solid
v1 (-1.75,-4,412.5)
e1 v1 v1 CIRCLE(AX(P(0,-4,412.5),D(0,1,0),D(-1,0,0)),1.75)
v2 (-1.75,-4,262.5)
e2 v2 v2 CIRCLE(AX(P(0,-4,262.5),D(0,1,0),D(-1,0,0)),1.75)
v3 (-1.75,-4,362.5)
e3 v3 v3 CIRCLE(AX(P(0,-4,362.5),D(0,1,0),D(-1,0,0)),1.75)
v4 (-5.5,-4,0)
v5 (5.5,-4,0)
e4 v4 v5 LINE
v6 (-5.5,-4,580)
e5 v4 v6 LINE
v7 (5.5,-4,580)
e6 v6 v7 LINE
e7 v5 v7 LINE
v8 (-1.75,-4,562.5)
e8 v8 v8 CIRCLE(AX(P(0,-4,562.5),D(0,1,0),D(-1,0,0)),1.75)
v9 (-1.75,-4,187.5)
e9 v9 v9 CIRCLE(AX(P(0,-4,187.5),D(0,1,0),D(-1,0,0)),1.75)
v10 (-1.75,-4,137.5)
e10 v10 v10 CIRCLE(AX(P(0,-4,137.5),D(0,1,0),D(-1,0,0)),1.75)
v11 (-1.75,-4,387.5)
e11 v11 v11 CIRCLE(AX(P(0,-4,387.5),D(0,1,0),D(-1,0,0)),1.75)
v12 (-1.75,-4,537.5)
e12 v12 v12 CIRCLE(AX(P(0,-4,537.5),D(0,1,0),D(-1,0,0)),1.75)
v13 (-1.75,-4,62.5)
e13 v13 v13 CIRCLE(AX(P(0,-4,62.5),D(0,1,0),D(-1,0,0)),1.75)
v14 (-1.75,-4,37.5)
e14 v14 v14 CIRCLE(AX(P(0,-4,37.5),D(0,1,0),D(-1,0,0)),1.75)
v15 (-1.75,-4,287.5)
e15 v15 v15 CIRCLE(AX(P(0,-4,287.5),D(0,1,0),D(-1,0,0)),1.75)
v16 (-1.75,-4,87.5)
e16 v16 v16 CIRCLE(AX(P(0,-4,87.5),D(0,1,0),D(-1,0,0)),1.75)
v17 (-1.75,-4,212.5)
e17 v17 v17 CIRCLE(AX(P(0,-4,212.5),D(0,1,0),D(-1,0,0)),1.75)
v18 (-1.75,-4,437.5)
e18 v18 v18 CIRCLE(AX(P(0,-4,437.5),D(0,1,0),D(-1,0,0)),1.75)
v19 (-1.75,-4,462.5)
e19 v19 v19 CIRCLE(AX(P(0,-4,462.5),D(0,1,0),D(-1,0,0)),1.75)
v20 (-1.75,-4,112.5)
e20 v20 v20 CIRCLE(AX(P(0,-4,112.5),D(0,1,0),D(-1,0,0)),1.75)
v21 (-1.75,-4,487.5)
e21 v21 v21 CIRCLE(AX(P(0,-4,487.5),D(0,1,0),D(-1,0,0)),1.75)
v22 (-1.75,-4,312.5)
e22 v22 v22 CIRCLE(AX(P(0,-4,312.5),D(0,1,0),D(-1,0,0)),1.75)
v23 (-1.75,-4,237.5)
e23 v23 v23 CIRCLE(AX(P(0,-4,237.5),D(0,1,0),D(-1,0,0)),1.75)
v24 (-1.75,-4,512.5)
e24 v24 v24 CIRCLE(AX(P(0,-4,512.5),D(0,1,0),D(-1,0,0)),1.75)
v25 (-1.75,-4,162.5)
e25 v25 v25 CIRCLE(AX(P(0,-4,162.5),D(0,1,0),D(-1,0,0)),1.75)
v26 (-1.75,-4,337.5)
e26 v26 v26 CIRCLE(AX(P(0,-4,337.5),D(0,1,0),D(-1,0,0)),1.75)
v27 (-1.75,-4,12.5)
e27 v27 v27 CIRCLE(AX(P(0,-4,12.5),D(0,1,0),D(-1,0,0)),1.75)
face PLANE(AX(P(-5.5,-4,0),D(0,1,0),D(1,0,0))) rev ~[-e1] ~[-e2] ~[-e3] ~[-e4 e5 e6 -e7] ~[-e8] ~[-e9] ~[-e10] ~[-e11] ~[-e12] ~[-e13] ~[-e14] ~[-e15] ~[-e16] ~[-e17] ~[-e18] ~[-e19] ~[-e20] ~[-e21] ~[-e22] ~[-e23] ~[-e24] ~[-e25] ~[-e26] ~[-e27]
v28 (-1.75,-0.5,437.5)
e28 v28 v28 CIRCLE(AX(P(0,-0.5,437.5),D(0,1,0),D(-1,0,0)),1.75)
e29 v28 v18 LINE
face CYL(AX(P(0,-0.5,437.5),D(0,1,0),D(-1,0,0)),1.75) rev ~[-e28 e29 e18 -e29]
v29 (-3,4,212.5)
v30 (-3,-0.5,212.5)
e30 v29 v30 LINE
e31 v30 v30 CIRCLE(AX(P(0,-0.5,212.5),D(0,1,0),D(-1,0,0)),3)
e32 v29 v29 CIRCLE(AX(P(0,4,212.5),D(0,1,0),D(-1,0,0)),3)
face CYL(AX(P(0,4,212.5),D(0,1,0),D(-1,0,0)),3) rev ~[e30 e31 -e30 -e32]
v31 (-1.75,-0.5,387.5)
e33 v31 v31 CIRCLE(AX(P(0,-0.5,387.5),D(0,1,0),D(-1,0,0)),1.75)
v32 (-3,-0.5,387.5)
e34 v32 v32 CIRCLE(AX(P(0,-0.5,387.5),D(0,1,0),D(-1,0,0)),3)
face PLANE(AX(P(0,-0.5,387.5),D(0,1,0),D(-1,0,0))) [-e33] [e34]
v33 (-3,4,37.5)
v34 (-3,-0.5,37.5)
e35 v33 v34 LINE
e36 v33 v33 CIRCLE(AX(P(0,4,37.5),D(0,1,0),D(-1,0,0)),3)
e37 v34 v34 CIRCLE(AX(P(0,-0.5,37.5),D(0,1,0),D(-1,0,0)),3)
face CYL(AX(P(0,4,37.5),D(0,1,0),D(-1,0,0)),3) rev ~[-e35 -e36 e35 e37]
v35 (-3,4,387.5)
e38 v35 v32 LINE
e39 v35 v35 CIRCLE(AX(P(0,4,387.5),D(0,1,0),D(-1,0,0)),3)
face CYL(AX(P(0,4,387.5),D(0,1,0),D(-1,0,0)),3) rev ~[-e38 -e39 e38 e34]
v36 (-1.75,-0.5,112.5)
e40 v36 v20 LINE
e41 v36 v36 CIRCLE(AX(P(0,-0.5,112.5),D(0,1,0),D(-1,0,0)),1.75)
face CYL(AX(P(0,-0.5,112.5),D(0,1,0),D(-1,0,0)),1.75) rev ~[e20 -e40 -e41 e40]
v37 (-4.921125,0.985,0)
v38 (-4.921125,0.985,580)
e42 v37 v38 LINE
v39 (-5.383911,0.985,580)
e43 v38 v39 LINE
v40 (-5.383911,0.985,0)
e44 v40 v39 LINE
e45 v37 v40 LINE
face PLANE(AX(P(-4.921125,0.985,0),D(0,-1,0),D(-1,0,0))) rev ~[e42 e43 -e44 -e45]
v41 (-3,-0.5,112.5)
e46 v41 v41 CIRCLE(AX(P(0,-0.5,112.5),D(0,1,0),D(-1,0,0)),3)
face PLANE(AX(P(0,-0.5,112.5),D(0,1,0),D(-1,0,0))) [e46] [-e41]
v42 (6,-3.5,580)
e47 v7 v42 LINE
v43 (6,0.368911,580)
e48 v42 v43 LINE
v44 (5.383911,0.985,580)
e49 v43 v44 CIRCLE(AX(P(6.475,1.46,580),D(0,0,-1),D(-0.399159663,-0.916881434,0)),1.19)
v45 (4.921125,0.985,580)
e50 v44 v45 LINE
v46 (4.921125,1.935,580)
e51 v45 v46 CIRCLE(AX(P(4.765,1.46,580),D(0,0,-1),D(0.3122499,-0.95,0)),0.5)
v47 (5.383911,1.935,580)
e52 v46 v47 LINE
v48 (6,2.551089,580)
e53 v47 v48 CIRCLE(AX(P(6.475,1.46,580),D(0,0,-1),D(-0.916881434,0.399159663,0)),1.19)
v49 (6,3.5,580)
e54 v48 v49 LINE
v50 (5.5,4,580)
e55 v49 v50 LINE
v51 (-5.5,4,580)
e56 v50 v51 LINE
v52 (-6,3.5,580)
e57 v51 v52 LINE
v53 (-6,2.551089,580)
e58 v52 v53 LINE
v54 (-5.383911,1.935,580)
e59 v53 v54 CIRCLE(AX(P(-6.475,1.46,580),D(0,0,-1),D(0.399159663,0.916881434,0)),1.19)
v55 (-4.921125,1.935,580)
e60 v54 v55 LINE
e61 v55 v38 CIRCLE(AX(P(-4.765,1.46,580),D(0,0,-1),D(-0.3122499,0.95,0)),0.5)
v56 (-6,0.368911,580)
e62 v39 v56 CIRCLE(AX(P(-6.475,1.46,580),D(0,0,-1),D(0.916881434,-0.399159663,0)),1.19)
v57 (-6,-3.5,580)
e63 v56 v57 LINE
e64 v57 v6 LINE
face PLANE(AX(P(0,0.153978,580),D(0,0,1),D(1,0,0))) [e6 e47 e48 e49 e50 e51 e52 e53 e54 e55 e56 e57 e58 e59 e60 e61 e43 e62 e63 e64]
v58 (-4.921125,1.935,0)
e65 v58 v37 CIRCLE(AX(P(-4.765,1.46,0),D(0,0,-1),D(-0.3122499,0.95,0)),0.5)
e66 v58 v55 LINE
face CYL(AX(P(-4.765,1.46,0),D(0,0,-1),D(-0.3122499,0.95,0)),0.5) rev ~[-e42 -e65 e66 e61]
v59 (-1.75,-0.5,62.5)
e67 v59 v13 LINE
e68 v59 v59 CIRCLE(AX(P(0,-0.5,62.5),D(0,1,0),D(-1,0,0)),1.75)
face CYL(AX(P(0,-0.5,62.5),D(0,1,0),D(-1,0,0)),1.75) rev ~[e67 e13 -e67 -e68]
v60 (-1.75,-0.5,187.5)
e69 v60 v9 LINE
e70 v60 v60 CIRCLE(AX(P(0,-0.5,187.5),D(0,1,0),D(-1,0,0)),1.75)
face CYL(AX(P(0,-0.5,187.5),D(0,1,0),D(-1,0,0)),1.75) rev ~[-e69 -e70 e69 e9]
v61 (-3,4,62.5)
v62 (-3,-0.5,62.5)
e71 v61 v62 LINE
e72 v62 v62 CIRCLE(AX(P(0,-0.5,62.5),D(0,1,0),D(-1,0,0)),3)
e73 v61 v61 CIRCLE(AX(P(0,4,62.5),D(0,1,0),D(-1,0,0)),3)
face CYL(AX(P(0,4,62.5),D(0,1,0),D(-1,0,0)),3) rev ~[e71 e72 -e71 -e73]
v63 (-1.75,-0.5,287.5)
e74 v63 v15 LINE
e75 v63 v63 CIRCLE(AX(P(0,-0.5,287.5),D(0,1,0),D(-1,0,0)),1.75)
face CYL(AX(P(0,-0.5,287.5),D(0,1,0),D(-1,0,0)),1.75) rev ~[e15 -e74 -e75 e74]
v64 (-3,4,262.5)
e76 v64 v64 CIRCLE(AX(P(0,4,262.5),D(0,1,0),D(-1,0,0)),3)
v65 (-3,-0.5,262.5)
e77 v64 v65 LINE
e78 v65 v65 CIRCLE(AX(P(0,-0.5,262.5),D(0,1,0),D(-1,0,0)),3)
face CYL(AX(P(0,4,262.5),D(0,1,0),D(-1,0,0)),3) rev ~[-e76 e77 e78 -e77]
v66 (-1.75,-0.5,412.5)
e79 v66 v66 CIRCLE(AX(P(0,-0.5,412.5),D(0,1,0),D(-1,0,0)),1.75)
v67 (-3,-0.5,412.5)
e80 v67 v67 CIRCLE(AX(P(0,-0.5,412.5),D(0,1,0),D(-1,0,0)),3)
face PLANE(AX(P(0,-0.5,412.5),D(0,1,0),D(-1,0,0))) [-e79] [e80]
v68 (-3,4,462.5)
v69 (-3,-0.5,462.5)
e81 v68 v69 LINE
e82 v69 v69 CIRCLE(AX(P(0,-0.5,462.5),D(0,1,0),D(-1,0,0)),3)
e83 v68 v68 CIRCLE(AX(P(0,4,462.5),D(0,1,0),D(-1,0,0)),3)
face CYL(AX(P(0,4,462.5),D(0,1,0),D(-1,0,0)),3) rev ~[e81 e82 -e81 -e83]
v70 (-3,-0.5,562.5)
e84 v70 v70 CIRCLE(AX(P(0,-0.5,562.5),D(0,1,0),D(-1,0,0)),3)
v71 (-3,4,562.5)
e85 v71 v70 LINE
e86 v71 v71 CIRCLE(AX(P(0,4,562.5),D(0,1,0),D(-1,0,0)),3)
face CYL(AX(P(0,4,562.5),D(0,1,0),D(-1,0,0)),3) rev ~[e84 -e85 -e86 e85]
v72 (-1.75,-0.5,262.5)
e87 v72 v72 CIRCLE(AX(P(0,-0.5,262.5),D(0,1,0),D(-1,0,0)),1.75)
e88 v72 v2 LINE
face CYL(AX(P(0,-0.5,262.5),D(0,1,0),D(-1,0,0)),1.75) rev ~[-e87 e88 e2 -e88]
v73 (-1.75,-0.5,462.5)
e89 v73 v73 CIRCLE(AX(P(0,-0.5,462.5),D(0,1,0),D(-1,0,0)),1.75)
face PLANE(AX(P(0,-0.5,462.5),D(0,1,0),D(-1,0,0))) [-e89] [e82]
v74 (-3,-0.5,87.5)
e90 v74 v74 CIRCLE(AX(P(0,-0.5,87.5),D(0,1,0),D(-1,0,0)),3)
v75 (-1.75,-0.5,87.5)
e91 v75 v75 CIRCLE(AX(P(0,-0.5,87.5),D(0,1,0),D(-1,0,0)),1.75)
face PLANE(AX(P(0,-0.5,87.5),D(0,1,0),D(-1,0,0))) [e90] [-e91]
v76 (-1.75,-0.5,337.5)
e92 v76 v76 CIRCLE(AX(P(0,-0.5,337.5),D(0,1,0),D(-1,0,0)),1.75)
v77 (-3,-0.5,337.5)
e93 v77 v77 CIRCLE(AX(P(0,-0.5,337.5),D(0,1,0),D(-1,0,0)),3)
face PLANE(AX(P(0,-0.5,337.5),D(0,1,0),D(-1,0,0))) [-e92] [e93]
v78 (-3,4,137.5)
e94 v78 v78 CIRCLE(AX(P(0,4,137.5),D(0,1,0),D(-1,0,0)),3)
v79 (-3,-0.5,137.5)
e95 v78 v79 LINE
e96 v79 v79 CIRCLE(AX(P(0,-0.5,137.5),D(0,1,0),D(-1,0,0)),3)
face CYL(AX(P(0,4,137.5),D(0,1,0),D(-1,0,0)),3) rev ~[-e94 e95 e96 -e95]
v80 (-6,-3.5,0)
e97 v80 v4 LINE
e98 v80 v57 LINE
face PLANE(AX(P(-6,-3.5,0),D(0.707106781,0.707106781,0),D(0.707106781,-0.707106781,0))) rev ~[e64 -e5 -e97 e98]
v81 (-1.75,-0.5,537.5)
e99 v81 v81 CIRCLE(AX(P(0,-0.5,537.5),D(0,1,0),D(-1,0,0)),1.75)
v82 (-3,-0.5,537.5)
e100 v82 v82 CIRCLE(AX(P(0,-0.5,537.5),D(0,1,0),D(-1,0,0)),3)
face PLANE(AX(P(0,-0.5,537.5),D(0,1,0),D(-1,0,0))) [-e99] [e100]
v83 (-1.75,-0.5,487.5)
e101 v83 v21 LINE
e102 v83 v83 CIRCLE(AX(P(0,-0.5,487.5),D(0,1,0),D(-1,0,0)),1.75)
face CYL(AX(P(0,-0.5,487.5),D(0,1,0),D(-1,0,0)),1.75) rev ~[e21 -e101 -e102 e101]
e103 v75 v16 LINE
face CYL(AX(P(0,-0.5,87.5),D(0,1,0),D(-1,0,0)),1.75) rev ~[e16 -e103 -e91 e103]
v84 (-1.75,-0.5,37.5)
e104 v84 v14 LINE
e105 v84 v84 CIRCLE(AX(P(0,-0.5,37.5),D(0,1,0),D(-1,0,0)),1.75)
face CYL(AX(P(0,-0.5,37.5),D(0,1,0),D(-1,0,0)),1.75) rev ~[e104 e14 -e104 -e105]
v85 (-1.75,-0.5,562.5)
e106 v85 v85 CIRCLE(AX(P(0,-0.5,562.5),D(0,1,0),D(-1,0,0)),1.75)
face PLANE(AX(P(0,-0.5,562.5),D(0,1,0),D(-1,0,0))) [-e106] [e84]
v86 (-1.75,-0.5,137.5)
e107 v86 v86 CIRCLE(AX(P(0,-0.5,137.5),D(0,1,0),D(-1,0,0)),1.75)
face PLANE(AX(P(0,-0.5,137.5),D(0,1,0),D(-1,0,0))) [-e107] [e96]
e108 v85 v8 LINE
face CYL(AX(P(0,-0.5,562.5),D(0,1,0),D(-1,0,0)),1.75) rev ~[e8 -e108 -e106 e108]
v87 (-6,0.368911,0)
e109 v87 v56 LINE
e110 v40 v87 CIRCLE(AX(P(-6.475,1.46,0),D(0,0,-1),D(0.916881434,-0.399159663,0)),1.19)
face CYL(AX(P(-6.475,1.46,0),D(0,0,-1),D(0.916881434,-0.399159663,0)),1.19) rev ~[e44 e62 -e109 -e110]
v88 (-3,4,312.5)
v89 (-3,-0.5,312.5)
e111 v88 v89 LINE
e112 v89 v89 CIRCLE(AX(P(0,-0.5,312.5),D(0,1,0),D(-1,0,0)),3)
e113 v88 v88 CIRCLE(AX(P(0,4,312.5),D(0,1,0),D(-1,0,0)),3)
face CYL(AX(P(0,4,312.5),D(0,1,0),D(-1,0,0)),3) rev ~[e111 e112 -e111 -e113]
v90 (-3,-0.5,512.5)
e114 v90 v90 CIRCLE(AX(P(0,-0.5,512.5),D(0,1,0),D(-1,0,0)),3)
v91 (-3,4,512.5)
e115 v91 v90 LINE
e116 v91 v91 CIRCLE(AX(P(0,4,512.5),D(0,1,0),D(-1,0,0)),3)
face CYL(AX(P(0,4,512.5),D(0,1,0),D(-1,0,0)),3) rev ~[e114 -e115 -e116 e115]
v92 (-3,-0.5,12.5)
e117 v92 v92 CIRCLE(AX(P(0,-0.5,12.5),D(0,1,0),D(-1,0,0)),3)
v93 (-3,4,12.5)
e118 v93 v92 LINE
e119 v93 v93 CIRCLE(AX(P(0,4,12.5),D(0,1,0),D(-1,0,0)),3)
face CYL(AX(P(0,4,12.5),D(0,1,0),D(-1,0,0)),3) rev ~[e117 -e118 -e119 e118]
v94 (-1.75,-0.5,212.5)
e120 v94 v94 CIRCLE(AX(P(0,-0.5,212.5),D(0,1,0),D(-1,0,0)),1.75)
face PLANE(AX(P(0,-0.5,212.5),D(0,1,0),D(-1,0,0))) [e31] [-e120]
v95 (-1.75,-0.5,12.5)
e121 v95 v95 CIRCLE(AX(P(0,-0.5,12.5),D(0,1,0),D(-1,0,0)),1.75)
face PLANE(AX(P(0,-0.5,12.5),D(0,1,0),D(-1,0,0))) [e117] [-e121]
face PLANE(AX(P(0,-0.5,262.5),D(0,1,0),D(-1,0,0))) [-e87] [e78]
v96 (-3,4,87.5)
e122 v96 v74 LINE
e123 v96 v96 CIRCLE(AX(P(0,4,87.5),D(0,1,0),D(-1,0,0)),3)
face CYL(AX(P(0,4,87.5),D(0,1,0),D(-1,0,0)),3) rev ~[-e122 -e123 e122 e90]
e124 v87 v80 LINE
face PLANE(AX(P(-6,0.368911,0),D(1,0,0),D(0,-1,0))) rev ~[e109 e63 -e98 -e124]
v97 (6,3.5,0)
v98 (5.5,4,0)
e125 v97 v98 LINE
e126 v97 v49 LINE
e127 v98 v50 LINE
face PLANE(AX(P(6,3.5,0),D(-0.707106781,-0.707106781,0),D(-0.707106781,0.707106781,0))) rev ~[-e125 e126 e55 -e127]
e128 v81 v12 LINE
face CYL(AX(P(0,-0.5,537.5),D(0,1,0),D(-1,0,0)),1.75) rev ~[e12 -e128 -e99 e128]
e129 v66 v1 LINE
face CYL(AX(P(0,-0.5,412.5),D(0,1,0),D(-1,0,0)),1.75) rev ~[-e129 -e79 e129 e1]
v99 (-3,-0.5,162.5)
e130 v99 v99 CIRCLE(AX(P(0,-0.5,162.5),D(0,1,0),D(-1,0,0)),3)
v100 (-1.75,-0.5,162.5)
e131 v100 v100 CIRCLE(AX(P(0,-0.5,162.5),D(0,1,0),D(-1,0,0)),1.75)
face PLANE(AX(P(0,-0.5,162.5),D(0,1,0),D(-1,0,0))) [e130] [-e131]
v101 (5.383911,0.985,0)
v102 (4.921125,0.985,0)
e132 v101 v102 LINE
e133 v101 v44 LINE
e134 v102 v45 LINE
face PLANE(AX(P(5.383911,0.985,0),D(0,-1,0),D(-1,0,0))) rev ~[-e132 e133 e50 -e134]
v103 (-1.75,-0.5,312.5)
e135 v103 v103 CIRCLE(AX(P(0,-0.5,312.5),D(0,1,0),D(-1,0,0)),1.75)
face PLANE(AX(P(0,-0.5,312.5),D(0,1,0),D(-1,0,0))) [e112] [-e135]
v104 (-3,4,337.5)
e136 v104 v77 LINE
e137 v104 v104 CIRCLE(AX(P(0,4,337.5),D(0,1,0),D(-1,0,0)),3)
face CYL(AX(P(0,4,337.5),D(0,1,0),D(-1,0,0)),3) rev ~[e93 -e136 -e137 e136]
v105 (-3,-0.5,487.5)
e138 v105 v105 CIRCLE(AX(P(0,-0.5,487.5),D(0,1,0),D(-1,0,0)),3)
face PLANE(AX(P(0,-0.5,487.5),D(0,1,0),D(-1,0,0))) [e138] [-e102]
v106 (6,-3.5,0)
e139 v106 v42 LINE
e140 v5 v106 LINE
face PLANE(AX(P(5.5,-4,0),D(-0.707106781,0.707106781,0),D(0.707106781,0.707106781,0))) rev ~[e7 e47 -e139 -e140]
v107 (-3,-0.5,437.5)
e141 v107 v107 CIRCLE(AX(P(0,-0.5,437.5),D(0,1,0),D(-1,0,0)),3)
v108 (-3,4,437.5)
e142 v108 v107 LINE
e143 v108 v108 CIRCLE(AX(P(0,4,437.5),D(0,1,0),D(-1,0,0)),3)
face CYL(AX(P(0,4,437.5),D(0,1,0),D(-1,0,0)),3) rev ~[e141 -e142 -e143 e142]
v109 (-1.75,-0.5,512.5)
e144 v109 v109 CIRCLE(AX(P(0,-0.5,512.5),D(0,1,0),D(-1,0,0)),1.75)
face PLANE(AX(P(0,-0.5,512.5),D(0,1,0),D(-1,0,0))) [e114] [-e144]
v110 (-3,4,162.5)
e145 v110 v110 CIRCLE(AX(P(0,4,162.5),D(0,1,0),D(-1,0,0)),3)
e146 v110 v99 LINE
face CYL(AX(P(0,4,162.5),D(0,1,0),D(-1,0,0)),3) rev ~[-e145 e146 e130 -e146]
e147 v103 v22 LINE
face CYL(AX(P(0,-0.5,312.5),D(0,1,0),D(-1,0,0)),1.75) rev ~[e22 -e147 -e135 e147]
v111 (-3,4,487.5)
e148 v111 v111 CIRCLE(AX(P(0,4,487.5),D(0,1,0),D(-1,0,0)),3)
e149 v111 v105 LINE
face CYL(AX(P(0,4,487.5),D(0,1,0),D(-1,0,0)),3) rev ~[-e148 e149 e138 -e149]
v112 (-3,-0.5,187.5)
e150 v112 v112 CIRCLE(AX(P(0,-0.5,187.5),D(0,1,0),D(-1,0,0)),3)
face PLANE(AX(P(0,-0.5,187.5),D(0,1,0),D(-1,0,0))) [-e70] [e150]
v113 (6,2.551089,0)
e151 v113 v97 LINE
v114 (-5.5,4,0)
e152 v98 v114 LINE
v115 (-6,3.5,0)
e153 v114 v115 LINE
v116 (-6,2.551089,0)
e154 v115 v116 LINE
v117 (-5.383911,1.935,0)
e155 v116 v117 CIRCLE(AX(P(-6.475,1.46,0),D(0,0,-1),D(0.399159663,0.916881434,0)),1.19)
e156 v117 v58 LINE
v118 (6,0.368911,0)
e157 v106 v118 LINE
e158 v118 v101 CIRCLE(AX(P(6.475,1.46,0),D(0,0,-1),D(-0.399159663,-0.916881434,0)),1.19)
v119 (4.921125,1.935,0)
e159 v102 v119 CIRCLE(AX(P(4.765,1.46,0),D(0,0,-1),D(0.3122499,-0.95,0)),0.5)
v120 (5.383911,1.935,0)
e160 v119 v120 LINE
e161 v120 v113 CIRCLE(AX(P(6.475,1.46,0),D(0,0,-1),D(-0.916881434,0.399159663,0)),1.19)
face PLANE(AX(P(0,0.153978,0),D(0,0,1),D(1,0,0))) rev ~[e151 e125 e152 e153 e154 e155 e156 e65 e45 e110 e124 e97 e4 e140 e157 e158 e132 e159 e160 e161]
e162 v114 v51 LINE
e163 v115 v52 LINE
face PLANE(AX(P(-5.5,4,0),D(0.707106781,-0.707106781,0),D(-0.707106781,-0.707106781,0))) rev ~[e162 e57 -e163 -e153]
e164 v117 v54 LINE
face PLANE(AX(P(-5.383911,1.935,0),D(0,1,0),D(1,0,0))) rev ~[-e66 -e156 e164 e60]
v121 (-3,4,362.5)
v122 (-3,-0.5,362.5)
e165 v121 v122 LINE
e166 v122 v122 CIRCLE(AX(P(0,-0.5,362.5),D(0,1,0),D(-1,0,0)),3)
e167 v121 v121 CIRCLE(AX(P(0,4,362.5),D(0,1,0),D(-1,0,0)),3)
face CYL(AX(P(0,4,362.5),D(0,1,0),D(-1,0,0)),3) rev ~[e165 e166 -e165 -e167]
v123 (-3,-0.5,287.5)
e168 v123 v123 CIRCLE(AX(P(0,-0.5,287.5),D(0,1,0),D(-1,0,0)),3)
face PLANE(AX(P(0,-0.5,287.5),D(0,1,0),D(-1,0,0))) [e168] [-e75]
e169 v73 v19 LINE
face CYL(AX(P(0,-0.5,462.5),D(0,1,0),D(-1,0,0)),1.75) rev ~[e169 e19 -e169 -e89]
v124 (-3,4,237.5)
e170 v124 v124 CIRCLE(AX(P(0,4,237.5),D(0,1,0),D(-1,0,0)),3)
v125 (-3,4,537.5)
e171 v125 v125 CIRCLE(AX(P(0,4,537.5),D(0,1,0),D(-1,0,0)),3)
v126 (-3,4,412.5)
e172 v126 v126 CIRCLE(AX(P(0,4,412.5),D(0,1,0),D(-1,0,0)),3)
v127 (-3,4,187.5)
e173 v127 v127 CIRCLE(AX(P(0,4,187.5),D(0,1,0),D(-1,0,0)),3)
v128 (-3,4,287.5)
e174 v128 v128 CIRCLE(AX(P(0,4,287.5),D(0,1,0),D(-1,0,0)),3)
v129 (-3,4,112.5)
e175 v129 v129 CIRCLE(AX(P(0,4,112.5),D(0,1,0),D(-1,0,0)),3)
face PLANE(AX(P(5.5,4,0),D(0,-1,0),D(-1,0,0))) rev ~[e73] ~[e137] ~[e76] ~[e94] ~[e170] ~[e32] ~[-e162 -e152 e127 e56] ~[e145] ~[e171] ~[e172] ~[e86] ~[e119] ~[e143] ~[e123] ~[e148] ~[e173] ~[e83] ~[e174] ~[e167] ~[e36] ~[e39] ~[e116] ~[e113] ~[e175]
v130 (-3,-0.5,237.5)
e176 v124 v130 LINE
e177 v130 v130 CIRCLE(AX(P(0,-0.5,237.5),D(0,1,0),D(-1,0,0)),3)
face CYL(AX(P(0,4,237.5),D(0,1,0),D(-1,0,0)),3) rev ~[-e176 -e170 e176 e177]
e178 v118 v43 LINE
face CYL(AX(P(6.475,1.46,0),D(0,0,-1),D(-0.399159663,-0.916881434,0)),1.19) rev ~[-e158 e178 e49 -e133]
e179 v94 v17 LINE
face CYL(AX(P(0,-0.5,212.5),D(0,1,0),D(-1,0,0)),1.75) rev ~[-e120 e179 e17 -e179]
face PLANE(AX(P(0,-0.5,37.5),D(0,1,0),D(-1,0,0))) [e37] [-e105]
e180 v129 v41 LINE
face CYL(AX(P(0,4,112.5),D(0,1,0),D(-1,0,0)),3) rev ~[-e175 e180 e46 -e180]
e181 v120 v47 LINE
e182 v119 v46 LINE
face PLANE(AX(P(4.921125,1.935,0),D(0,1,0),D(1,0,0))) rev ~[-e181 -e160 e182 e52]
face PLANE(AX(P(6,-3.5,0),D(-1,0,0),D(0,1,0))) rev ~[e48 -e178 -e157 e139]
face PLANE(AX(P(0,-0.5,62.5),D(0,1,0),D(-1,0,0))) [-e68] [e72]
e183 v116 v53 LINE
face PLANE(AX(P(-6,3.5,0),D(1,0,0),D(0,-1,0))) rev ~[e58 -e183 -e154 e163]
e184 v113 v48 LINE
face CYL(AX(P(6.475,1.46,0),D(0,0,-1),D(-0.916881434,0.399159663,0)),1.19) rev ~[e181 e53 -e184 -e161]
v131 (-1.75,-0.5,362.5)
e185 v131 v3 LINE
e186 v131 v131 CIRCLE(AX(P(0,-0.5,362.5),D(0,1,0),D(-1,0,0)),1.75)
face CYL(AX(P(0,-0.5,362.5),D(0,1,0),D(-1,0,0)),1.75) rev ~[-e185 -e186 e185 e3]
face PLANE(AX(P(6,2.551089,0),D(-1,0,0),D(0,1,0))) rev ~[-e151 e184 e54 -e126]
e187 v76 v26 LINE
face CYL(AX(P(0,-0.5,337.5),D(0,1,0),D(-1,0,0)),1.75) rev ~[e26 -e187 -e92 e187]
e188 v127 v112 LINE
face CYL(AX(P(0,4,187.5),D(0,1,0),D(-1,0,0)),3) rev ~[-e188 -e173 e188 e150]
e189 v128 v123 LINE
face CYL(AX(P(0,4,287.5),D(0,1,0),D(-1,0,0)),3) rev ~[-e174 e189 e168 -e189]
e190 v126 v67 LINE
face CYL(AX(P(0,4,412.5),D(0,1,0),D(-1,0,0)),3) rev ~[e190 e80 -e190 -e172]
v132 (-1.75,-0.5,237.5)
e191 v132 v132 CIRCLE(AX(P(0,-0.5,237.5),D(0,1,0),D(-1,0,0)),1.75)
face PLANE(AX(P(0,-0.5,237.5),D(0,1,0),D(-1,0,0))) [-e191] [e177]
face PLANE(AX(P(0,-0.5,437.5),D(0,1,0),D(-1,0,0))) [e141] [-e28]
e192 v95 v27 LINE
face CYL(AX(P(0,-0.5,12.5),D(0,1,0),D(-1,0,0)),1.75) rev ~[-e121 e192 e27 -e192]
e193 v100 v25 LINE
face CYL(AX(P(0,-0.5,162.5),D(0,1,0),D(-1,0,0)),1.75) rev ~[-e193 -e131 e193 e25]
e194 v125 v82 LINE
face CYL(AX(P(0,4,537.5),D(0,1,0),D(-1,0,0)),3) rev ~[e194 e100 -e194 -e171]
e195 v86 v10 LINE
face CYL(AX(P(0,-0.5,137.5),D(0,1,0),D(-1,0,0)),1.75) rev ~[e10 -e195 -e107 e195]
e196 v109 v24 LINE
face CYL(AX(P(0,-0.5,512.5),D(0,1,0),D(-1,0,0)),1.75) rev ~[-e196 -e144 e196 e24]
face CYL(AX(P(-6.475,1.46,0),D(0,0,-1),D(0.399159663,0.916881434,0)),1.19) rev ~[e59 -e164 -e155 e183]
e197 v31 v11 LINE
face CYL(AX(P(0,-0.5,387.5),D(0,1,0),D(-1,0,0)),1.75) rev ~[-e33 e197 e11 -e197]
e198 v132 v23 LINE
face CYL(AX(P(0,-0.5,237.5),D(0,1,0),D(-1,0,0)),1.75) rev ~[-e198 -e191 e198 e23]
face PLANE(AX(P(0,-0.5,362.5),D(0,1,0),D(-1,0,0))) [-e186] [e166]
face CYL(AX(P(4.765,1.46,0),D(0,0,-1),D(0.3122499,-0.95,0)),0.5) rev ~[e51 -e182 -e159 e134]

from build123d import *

# Parameters (mm, degrees)
BOSS_EXTRUDE1_DEPTH = 580
SKETCH2_R           = 3
CUT_EXTRUDE1_DEPTH  = 4.5
SKETCH3_R           = 1.75
CUT_EXTRUDE2_DEPTH  = 581.048489352
LPATTERN1_COUNT     = 23
LPATTERN1_PITCH     = 25


with BuildPart() as part:
    # Sketch1 → Boss-Extrude1 (new body)
    with BuildSketch(Plane.XY):
        with BuildLine():
            Line((6, -3.5), (6, 0.368911094))
            ThreePointArc((6, 0.368911094), (5.63354293, 0.61854293), (5.383911094, 0.985))
            Line((5.383911094, 0.985), (4.92112495, 0.985))
            ThreePointArc((4.92112495, 0.985), (4.265, 1.46), (4.92112495, 1.935))
            Line((4.92112495, 1.935), (5.383911094, 1.935))
            ThreePointArc((5.383911094, 1.935), (5.63354293, 2.30145707), (6, 2.551088906))
            Line((6, 2.551088906), (6, 3.5))
            Line((6, 3.5), (5.5, 4))
            Line((5.5, 4), (-5.5, 4))
            Line((-5.5, 4), (-6, 3.5))
            Line((-6, 3.5), (-6, 2.551088906))
            ThreePointArc((-6, 2.551088906), (-5.63354293, 2.30145707), (-5.383911094, 1.935))
            Line((-5.383911094, 1.935), (-4.92112495, 1.935))
            ThreePointArc((-4.92112495, 1.935), (-4.265, 1.46), (-4.92112495, 0.985))
            Line((-4.92112495, 0.985), (-5.383911094, 0.985))
            ThreePointArc((-5.383911094, 0.985), (-5.63354293, 0.61854293), (-6, 0.368911094))
            Line((-6, 0.368911094), (-6, -3.5))
            Line((-6, -3.5), (-5.5, -4))
            Line((-5.5, -4), (5.5, -4))
            Line((5.5, -4), (6, -3.5))
        make_face()
    extrude(amount=BOSS_EXTRUDE1_DEPTH)

    # Sketch2 → Cut-Extrude1 (cut)
    with BuildSketch(Plane(origin=(0, 4, 0), x_dir=(1, 0, 0), z_dir=(0, 1, 0))):
        with Locations(Location((0, -12.5, 0), (0, 0, 180))):
            Circle(SKETCH2_R)
    cut_extrude1 = extrude(amount=-CUT_EXTRUDE1_DEPTH, mode=Mode.SUBTRACT)

    # Sketch3 → Cut-Extrude2 (cut, through all)
    with BuildSketch(Plane(origin=(0, -0.5, 0), x_dir=(1, 0, 0), z_dir=(0, 1, 0))):
        with Locations(Location((0, -12.5, 0), (0, 0, 180))):
            Circle(SKETCH3_R)
    cut_extrude2 = extrude(amount=-CUT_EXTRUDE2_DEPTH, mode=Mode.SUBTRACT)

    # LPattern1: Cut-Extrude1, Cut-Extrude2 ×23
    with Locations(*[(0, 0, i * LPATTERN1_PITCH) for i in range(1, LPATTERN1_COUNT)]):
        add(cut_extrude1, mode=Mode.SUBTRACT)
        add(cut_extrude2, mode=Mode.SUBTRACT)


solid = part.part
